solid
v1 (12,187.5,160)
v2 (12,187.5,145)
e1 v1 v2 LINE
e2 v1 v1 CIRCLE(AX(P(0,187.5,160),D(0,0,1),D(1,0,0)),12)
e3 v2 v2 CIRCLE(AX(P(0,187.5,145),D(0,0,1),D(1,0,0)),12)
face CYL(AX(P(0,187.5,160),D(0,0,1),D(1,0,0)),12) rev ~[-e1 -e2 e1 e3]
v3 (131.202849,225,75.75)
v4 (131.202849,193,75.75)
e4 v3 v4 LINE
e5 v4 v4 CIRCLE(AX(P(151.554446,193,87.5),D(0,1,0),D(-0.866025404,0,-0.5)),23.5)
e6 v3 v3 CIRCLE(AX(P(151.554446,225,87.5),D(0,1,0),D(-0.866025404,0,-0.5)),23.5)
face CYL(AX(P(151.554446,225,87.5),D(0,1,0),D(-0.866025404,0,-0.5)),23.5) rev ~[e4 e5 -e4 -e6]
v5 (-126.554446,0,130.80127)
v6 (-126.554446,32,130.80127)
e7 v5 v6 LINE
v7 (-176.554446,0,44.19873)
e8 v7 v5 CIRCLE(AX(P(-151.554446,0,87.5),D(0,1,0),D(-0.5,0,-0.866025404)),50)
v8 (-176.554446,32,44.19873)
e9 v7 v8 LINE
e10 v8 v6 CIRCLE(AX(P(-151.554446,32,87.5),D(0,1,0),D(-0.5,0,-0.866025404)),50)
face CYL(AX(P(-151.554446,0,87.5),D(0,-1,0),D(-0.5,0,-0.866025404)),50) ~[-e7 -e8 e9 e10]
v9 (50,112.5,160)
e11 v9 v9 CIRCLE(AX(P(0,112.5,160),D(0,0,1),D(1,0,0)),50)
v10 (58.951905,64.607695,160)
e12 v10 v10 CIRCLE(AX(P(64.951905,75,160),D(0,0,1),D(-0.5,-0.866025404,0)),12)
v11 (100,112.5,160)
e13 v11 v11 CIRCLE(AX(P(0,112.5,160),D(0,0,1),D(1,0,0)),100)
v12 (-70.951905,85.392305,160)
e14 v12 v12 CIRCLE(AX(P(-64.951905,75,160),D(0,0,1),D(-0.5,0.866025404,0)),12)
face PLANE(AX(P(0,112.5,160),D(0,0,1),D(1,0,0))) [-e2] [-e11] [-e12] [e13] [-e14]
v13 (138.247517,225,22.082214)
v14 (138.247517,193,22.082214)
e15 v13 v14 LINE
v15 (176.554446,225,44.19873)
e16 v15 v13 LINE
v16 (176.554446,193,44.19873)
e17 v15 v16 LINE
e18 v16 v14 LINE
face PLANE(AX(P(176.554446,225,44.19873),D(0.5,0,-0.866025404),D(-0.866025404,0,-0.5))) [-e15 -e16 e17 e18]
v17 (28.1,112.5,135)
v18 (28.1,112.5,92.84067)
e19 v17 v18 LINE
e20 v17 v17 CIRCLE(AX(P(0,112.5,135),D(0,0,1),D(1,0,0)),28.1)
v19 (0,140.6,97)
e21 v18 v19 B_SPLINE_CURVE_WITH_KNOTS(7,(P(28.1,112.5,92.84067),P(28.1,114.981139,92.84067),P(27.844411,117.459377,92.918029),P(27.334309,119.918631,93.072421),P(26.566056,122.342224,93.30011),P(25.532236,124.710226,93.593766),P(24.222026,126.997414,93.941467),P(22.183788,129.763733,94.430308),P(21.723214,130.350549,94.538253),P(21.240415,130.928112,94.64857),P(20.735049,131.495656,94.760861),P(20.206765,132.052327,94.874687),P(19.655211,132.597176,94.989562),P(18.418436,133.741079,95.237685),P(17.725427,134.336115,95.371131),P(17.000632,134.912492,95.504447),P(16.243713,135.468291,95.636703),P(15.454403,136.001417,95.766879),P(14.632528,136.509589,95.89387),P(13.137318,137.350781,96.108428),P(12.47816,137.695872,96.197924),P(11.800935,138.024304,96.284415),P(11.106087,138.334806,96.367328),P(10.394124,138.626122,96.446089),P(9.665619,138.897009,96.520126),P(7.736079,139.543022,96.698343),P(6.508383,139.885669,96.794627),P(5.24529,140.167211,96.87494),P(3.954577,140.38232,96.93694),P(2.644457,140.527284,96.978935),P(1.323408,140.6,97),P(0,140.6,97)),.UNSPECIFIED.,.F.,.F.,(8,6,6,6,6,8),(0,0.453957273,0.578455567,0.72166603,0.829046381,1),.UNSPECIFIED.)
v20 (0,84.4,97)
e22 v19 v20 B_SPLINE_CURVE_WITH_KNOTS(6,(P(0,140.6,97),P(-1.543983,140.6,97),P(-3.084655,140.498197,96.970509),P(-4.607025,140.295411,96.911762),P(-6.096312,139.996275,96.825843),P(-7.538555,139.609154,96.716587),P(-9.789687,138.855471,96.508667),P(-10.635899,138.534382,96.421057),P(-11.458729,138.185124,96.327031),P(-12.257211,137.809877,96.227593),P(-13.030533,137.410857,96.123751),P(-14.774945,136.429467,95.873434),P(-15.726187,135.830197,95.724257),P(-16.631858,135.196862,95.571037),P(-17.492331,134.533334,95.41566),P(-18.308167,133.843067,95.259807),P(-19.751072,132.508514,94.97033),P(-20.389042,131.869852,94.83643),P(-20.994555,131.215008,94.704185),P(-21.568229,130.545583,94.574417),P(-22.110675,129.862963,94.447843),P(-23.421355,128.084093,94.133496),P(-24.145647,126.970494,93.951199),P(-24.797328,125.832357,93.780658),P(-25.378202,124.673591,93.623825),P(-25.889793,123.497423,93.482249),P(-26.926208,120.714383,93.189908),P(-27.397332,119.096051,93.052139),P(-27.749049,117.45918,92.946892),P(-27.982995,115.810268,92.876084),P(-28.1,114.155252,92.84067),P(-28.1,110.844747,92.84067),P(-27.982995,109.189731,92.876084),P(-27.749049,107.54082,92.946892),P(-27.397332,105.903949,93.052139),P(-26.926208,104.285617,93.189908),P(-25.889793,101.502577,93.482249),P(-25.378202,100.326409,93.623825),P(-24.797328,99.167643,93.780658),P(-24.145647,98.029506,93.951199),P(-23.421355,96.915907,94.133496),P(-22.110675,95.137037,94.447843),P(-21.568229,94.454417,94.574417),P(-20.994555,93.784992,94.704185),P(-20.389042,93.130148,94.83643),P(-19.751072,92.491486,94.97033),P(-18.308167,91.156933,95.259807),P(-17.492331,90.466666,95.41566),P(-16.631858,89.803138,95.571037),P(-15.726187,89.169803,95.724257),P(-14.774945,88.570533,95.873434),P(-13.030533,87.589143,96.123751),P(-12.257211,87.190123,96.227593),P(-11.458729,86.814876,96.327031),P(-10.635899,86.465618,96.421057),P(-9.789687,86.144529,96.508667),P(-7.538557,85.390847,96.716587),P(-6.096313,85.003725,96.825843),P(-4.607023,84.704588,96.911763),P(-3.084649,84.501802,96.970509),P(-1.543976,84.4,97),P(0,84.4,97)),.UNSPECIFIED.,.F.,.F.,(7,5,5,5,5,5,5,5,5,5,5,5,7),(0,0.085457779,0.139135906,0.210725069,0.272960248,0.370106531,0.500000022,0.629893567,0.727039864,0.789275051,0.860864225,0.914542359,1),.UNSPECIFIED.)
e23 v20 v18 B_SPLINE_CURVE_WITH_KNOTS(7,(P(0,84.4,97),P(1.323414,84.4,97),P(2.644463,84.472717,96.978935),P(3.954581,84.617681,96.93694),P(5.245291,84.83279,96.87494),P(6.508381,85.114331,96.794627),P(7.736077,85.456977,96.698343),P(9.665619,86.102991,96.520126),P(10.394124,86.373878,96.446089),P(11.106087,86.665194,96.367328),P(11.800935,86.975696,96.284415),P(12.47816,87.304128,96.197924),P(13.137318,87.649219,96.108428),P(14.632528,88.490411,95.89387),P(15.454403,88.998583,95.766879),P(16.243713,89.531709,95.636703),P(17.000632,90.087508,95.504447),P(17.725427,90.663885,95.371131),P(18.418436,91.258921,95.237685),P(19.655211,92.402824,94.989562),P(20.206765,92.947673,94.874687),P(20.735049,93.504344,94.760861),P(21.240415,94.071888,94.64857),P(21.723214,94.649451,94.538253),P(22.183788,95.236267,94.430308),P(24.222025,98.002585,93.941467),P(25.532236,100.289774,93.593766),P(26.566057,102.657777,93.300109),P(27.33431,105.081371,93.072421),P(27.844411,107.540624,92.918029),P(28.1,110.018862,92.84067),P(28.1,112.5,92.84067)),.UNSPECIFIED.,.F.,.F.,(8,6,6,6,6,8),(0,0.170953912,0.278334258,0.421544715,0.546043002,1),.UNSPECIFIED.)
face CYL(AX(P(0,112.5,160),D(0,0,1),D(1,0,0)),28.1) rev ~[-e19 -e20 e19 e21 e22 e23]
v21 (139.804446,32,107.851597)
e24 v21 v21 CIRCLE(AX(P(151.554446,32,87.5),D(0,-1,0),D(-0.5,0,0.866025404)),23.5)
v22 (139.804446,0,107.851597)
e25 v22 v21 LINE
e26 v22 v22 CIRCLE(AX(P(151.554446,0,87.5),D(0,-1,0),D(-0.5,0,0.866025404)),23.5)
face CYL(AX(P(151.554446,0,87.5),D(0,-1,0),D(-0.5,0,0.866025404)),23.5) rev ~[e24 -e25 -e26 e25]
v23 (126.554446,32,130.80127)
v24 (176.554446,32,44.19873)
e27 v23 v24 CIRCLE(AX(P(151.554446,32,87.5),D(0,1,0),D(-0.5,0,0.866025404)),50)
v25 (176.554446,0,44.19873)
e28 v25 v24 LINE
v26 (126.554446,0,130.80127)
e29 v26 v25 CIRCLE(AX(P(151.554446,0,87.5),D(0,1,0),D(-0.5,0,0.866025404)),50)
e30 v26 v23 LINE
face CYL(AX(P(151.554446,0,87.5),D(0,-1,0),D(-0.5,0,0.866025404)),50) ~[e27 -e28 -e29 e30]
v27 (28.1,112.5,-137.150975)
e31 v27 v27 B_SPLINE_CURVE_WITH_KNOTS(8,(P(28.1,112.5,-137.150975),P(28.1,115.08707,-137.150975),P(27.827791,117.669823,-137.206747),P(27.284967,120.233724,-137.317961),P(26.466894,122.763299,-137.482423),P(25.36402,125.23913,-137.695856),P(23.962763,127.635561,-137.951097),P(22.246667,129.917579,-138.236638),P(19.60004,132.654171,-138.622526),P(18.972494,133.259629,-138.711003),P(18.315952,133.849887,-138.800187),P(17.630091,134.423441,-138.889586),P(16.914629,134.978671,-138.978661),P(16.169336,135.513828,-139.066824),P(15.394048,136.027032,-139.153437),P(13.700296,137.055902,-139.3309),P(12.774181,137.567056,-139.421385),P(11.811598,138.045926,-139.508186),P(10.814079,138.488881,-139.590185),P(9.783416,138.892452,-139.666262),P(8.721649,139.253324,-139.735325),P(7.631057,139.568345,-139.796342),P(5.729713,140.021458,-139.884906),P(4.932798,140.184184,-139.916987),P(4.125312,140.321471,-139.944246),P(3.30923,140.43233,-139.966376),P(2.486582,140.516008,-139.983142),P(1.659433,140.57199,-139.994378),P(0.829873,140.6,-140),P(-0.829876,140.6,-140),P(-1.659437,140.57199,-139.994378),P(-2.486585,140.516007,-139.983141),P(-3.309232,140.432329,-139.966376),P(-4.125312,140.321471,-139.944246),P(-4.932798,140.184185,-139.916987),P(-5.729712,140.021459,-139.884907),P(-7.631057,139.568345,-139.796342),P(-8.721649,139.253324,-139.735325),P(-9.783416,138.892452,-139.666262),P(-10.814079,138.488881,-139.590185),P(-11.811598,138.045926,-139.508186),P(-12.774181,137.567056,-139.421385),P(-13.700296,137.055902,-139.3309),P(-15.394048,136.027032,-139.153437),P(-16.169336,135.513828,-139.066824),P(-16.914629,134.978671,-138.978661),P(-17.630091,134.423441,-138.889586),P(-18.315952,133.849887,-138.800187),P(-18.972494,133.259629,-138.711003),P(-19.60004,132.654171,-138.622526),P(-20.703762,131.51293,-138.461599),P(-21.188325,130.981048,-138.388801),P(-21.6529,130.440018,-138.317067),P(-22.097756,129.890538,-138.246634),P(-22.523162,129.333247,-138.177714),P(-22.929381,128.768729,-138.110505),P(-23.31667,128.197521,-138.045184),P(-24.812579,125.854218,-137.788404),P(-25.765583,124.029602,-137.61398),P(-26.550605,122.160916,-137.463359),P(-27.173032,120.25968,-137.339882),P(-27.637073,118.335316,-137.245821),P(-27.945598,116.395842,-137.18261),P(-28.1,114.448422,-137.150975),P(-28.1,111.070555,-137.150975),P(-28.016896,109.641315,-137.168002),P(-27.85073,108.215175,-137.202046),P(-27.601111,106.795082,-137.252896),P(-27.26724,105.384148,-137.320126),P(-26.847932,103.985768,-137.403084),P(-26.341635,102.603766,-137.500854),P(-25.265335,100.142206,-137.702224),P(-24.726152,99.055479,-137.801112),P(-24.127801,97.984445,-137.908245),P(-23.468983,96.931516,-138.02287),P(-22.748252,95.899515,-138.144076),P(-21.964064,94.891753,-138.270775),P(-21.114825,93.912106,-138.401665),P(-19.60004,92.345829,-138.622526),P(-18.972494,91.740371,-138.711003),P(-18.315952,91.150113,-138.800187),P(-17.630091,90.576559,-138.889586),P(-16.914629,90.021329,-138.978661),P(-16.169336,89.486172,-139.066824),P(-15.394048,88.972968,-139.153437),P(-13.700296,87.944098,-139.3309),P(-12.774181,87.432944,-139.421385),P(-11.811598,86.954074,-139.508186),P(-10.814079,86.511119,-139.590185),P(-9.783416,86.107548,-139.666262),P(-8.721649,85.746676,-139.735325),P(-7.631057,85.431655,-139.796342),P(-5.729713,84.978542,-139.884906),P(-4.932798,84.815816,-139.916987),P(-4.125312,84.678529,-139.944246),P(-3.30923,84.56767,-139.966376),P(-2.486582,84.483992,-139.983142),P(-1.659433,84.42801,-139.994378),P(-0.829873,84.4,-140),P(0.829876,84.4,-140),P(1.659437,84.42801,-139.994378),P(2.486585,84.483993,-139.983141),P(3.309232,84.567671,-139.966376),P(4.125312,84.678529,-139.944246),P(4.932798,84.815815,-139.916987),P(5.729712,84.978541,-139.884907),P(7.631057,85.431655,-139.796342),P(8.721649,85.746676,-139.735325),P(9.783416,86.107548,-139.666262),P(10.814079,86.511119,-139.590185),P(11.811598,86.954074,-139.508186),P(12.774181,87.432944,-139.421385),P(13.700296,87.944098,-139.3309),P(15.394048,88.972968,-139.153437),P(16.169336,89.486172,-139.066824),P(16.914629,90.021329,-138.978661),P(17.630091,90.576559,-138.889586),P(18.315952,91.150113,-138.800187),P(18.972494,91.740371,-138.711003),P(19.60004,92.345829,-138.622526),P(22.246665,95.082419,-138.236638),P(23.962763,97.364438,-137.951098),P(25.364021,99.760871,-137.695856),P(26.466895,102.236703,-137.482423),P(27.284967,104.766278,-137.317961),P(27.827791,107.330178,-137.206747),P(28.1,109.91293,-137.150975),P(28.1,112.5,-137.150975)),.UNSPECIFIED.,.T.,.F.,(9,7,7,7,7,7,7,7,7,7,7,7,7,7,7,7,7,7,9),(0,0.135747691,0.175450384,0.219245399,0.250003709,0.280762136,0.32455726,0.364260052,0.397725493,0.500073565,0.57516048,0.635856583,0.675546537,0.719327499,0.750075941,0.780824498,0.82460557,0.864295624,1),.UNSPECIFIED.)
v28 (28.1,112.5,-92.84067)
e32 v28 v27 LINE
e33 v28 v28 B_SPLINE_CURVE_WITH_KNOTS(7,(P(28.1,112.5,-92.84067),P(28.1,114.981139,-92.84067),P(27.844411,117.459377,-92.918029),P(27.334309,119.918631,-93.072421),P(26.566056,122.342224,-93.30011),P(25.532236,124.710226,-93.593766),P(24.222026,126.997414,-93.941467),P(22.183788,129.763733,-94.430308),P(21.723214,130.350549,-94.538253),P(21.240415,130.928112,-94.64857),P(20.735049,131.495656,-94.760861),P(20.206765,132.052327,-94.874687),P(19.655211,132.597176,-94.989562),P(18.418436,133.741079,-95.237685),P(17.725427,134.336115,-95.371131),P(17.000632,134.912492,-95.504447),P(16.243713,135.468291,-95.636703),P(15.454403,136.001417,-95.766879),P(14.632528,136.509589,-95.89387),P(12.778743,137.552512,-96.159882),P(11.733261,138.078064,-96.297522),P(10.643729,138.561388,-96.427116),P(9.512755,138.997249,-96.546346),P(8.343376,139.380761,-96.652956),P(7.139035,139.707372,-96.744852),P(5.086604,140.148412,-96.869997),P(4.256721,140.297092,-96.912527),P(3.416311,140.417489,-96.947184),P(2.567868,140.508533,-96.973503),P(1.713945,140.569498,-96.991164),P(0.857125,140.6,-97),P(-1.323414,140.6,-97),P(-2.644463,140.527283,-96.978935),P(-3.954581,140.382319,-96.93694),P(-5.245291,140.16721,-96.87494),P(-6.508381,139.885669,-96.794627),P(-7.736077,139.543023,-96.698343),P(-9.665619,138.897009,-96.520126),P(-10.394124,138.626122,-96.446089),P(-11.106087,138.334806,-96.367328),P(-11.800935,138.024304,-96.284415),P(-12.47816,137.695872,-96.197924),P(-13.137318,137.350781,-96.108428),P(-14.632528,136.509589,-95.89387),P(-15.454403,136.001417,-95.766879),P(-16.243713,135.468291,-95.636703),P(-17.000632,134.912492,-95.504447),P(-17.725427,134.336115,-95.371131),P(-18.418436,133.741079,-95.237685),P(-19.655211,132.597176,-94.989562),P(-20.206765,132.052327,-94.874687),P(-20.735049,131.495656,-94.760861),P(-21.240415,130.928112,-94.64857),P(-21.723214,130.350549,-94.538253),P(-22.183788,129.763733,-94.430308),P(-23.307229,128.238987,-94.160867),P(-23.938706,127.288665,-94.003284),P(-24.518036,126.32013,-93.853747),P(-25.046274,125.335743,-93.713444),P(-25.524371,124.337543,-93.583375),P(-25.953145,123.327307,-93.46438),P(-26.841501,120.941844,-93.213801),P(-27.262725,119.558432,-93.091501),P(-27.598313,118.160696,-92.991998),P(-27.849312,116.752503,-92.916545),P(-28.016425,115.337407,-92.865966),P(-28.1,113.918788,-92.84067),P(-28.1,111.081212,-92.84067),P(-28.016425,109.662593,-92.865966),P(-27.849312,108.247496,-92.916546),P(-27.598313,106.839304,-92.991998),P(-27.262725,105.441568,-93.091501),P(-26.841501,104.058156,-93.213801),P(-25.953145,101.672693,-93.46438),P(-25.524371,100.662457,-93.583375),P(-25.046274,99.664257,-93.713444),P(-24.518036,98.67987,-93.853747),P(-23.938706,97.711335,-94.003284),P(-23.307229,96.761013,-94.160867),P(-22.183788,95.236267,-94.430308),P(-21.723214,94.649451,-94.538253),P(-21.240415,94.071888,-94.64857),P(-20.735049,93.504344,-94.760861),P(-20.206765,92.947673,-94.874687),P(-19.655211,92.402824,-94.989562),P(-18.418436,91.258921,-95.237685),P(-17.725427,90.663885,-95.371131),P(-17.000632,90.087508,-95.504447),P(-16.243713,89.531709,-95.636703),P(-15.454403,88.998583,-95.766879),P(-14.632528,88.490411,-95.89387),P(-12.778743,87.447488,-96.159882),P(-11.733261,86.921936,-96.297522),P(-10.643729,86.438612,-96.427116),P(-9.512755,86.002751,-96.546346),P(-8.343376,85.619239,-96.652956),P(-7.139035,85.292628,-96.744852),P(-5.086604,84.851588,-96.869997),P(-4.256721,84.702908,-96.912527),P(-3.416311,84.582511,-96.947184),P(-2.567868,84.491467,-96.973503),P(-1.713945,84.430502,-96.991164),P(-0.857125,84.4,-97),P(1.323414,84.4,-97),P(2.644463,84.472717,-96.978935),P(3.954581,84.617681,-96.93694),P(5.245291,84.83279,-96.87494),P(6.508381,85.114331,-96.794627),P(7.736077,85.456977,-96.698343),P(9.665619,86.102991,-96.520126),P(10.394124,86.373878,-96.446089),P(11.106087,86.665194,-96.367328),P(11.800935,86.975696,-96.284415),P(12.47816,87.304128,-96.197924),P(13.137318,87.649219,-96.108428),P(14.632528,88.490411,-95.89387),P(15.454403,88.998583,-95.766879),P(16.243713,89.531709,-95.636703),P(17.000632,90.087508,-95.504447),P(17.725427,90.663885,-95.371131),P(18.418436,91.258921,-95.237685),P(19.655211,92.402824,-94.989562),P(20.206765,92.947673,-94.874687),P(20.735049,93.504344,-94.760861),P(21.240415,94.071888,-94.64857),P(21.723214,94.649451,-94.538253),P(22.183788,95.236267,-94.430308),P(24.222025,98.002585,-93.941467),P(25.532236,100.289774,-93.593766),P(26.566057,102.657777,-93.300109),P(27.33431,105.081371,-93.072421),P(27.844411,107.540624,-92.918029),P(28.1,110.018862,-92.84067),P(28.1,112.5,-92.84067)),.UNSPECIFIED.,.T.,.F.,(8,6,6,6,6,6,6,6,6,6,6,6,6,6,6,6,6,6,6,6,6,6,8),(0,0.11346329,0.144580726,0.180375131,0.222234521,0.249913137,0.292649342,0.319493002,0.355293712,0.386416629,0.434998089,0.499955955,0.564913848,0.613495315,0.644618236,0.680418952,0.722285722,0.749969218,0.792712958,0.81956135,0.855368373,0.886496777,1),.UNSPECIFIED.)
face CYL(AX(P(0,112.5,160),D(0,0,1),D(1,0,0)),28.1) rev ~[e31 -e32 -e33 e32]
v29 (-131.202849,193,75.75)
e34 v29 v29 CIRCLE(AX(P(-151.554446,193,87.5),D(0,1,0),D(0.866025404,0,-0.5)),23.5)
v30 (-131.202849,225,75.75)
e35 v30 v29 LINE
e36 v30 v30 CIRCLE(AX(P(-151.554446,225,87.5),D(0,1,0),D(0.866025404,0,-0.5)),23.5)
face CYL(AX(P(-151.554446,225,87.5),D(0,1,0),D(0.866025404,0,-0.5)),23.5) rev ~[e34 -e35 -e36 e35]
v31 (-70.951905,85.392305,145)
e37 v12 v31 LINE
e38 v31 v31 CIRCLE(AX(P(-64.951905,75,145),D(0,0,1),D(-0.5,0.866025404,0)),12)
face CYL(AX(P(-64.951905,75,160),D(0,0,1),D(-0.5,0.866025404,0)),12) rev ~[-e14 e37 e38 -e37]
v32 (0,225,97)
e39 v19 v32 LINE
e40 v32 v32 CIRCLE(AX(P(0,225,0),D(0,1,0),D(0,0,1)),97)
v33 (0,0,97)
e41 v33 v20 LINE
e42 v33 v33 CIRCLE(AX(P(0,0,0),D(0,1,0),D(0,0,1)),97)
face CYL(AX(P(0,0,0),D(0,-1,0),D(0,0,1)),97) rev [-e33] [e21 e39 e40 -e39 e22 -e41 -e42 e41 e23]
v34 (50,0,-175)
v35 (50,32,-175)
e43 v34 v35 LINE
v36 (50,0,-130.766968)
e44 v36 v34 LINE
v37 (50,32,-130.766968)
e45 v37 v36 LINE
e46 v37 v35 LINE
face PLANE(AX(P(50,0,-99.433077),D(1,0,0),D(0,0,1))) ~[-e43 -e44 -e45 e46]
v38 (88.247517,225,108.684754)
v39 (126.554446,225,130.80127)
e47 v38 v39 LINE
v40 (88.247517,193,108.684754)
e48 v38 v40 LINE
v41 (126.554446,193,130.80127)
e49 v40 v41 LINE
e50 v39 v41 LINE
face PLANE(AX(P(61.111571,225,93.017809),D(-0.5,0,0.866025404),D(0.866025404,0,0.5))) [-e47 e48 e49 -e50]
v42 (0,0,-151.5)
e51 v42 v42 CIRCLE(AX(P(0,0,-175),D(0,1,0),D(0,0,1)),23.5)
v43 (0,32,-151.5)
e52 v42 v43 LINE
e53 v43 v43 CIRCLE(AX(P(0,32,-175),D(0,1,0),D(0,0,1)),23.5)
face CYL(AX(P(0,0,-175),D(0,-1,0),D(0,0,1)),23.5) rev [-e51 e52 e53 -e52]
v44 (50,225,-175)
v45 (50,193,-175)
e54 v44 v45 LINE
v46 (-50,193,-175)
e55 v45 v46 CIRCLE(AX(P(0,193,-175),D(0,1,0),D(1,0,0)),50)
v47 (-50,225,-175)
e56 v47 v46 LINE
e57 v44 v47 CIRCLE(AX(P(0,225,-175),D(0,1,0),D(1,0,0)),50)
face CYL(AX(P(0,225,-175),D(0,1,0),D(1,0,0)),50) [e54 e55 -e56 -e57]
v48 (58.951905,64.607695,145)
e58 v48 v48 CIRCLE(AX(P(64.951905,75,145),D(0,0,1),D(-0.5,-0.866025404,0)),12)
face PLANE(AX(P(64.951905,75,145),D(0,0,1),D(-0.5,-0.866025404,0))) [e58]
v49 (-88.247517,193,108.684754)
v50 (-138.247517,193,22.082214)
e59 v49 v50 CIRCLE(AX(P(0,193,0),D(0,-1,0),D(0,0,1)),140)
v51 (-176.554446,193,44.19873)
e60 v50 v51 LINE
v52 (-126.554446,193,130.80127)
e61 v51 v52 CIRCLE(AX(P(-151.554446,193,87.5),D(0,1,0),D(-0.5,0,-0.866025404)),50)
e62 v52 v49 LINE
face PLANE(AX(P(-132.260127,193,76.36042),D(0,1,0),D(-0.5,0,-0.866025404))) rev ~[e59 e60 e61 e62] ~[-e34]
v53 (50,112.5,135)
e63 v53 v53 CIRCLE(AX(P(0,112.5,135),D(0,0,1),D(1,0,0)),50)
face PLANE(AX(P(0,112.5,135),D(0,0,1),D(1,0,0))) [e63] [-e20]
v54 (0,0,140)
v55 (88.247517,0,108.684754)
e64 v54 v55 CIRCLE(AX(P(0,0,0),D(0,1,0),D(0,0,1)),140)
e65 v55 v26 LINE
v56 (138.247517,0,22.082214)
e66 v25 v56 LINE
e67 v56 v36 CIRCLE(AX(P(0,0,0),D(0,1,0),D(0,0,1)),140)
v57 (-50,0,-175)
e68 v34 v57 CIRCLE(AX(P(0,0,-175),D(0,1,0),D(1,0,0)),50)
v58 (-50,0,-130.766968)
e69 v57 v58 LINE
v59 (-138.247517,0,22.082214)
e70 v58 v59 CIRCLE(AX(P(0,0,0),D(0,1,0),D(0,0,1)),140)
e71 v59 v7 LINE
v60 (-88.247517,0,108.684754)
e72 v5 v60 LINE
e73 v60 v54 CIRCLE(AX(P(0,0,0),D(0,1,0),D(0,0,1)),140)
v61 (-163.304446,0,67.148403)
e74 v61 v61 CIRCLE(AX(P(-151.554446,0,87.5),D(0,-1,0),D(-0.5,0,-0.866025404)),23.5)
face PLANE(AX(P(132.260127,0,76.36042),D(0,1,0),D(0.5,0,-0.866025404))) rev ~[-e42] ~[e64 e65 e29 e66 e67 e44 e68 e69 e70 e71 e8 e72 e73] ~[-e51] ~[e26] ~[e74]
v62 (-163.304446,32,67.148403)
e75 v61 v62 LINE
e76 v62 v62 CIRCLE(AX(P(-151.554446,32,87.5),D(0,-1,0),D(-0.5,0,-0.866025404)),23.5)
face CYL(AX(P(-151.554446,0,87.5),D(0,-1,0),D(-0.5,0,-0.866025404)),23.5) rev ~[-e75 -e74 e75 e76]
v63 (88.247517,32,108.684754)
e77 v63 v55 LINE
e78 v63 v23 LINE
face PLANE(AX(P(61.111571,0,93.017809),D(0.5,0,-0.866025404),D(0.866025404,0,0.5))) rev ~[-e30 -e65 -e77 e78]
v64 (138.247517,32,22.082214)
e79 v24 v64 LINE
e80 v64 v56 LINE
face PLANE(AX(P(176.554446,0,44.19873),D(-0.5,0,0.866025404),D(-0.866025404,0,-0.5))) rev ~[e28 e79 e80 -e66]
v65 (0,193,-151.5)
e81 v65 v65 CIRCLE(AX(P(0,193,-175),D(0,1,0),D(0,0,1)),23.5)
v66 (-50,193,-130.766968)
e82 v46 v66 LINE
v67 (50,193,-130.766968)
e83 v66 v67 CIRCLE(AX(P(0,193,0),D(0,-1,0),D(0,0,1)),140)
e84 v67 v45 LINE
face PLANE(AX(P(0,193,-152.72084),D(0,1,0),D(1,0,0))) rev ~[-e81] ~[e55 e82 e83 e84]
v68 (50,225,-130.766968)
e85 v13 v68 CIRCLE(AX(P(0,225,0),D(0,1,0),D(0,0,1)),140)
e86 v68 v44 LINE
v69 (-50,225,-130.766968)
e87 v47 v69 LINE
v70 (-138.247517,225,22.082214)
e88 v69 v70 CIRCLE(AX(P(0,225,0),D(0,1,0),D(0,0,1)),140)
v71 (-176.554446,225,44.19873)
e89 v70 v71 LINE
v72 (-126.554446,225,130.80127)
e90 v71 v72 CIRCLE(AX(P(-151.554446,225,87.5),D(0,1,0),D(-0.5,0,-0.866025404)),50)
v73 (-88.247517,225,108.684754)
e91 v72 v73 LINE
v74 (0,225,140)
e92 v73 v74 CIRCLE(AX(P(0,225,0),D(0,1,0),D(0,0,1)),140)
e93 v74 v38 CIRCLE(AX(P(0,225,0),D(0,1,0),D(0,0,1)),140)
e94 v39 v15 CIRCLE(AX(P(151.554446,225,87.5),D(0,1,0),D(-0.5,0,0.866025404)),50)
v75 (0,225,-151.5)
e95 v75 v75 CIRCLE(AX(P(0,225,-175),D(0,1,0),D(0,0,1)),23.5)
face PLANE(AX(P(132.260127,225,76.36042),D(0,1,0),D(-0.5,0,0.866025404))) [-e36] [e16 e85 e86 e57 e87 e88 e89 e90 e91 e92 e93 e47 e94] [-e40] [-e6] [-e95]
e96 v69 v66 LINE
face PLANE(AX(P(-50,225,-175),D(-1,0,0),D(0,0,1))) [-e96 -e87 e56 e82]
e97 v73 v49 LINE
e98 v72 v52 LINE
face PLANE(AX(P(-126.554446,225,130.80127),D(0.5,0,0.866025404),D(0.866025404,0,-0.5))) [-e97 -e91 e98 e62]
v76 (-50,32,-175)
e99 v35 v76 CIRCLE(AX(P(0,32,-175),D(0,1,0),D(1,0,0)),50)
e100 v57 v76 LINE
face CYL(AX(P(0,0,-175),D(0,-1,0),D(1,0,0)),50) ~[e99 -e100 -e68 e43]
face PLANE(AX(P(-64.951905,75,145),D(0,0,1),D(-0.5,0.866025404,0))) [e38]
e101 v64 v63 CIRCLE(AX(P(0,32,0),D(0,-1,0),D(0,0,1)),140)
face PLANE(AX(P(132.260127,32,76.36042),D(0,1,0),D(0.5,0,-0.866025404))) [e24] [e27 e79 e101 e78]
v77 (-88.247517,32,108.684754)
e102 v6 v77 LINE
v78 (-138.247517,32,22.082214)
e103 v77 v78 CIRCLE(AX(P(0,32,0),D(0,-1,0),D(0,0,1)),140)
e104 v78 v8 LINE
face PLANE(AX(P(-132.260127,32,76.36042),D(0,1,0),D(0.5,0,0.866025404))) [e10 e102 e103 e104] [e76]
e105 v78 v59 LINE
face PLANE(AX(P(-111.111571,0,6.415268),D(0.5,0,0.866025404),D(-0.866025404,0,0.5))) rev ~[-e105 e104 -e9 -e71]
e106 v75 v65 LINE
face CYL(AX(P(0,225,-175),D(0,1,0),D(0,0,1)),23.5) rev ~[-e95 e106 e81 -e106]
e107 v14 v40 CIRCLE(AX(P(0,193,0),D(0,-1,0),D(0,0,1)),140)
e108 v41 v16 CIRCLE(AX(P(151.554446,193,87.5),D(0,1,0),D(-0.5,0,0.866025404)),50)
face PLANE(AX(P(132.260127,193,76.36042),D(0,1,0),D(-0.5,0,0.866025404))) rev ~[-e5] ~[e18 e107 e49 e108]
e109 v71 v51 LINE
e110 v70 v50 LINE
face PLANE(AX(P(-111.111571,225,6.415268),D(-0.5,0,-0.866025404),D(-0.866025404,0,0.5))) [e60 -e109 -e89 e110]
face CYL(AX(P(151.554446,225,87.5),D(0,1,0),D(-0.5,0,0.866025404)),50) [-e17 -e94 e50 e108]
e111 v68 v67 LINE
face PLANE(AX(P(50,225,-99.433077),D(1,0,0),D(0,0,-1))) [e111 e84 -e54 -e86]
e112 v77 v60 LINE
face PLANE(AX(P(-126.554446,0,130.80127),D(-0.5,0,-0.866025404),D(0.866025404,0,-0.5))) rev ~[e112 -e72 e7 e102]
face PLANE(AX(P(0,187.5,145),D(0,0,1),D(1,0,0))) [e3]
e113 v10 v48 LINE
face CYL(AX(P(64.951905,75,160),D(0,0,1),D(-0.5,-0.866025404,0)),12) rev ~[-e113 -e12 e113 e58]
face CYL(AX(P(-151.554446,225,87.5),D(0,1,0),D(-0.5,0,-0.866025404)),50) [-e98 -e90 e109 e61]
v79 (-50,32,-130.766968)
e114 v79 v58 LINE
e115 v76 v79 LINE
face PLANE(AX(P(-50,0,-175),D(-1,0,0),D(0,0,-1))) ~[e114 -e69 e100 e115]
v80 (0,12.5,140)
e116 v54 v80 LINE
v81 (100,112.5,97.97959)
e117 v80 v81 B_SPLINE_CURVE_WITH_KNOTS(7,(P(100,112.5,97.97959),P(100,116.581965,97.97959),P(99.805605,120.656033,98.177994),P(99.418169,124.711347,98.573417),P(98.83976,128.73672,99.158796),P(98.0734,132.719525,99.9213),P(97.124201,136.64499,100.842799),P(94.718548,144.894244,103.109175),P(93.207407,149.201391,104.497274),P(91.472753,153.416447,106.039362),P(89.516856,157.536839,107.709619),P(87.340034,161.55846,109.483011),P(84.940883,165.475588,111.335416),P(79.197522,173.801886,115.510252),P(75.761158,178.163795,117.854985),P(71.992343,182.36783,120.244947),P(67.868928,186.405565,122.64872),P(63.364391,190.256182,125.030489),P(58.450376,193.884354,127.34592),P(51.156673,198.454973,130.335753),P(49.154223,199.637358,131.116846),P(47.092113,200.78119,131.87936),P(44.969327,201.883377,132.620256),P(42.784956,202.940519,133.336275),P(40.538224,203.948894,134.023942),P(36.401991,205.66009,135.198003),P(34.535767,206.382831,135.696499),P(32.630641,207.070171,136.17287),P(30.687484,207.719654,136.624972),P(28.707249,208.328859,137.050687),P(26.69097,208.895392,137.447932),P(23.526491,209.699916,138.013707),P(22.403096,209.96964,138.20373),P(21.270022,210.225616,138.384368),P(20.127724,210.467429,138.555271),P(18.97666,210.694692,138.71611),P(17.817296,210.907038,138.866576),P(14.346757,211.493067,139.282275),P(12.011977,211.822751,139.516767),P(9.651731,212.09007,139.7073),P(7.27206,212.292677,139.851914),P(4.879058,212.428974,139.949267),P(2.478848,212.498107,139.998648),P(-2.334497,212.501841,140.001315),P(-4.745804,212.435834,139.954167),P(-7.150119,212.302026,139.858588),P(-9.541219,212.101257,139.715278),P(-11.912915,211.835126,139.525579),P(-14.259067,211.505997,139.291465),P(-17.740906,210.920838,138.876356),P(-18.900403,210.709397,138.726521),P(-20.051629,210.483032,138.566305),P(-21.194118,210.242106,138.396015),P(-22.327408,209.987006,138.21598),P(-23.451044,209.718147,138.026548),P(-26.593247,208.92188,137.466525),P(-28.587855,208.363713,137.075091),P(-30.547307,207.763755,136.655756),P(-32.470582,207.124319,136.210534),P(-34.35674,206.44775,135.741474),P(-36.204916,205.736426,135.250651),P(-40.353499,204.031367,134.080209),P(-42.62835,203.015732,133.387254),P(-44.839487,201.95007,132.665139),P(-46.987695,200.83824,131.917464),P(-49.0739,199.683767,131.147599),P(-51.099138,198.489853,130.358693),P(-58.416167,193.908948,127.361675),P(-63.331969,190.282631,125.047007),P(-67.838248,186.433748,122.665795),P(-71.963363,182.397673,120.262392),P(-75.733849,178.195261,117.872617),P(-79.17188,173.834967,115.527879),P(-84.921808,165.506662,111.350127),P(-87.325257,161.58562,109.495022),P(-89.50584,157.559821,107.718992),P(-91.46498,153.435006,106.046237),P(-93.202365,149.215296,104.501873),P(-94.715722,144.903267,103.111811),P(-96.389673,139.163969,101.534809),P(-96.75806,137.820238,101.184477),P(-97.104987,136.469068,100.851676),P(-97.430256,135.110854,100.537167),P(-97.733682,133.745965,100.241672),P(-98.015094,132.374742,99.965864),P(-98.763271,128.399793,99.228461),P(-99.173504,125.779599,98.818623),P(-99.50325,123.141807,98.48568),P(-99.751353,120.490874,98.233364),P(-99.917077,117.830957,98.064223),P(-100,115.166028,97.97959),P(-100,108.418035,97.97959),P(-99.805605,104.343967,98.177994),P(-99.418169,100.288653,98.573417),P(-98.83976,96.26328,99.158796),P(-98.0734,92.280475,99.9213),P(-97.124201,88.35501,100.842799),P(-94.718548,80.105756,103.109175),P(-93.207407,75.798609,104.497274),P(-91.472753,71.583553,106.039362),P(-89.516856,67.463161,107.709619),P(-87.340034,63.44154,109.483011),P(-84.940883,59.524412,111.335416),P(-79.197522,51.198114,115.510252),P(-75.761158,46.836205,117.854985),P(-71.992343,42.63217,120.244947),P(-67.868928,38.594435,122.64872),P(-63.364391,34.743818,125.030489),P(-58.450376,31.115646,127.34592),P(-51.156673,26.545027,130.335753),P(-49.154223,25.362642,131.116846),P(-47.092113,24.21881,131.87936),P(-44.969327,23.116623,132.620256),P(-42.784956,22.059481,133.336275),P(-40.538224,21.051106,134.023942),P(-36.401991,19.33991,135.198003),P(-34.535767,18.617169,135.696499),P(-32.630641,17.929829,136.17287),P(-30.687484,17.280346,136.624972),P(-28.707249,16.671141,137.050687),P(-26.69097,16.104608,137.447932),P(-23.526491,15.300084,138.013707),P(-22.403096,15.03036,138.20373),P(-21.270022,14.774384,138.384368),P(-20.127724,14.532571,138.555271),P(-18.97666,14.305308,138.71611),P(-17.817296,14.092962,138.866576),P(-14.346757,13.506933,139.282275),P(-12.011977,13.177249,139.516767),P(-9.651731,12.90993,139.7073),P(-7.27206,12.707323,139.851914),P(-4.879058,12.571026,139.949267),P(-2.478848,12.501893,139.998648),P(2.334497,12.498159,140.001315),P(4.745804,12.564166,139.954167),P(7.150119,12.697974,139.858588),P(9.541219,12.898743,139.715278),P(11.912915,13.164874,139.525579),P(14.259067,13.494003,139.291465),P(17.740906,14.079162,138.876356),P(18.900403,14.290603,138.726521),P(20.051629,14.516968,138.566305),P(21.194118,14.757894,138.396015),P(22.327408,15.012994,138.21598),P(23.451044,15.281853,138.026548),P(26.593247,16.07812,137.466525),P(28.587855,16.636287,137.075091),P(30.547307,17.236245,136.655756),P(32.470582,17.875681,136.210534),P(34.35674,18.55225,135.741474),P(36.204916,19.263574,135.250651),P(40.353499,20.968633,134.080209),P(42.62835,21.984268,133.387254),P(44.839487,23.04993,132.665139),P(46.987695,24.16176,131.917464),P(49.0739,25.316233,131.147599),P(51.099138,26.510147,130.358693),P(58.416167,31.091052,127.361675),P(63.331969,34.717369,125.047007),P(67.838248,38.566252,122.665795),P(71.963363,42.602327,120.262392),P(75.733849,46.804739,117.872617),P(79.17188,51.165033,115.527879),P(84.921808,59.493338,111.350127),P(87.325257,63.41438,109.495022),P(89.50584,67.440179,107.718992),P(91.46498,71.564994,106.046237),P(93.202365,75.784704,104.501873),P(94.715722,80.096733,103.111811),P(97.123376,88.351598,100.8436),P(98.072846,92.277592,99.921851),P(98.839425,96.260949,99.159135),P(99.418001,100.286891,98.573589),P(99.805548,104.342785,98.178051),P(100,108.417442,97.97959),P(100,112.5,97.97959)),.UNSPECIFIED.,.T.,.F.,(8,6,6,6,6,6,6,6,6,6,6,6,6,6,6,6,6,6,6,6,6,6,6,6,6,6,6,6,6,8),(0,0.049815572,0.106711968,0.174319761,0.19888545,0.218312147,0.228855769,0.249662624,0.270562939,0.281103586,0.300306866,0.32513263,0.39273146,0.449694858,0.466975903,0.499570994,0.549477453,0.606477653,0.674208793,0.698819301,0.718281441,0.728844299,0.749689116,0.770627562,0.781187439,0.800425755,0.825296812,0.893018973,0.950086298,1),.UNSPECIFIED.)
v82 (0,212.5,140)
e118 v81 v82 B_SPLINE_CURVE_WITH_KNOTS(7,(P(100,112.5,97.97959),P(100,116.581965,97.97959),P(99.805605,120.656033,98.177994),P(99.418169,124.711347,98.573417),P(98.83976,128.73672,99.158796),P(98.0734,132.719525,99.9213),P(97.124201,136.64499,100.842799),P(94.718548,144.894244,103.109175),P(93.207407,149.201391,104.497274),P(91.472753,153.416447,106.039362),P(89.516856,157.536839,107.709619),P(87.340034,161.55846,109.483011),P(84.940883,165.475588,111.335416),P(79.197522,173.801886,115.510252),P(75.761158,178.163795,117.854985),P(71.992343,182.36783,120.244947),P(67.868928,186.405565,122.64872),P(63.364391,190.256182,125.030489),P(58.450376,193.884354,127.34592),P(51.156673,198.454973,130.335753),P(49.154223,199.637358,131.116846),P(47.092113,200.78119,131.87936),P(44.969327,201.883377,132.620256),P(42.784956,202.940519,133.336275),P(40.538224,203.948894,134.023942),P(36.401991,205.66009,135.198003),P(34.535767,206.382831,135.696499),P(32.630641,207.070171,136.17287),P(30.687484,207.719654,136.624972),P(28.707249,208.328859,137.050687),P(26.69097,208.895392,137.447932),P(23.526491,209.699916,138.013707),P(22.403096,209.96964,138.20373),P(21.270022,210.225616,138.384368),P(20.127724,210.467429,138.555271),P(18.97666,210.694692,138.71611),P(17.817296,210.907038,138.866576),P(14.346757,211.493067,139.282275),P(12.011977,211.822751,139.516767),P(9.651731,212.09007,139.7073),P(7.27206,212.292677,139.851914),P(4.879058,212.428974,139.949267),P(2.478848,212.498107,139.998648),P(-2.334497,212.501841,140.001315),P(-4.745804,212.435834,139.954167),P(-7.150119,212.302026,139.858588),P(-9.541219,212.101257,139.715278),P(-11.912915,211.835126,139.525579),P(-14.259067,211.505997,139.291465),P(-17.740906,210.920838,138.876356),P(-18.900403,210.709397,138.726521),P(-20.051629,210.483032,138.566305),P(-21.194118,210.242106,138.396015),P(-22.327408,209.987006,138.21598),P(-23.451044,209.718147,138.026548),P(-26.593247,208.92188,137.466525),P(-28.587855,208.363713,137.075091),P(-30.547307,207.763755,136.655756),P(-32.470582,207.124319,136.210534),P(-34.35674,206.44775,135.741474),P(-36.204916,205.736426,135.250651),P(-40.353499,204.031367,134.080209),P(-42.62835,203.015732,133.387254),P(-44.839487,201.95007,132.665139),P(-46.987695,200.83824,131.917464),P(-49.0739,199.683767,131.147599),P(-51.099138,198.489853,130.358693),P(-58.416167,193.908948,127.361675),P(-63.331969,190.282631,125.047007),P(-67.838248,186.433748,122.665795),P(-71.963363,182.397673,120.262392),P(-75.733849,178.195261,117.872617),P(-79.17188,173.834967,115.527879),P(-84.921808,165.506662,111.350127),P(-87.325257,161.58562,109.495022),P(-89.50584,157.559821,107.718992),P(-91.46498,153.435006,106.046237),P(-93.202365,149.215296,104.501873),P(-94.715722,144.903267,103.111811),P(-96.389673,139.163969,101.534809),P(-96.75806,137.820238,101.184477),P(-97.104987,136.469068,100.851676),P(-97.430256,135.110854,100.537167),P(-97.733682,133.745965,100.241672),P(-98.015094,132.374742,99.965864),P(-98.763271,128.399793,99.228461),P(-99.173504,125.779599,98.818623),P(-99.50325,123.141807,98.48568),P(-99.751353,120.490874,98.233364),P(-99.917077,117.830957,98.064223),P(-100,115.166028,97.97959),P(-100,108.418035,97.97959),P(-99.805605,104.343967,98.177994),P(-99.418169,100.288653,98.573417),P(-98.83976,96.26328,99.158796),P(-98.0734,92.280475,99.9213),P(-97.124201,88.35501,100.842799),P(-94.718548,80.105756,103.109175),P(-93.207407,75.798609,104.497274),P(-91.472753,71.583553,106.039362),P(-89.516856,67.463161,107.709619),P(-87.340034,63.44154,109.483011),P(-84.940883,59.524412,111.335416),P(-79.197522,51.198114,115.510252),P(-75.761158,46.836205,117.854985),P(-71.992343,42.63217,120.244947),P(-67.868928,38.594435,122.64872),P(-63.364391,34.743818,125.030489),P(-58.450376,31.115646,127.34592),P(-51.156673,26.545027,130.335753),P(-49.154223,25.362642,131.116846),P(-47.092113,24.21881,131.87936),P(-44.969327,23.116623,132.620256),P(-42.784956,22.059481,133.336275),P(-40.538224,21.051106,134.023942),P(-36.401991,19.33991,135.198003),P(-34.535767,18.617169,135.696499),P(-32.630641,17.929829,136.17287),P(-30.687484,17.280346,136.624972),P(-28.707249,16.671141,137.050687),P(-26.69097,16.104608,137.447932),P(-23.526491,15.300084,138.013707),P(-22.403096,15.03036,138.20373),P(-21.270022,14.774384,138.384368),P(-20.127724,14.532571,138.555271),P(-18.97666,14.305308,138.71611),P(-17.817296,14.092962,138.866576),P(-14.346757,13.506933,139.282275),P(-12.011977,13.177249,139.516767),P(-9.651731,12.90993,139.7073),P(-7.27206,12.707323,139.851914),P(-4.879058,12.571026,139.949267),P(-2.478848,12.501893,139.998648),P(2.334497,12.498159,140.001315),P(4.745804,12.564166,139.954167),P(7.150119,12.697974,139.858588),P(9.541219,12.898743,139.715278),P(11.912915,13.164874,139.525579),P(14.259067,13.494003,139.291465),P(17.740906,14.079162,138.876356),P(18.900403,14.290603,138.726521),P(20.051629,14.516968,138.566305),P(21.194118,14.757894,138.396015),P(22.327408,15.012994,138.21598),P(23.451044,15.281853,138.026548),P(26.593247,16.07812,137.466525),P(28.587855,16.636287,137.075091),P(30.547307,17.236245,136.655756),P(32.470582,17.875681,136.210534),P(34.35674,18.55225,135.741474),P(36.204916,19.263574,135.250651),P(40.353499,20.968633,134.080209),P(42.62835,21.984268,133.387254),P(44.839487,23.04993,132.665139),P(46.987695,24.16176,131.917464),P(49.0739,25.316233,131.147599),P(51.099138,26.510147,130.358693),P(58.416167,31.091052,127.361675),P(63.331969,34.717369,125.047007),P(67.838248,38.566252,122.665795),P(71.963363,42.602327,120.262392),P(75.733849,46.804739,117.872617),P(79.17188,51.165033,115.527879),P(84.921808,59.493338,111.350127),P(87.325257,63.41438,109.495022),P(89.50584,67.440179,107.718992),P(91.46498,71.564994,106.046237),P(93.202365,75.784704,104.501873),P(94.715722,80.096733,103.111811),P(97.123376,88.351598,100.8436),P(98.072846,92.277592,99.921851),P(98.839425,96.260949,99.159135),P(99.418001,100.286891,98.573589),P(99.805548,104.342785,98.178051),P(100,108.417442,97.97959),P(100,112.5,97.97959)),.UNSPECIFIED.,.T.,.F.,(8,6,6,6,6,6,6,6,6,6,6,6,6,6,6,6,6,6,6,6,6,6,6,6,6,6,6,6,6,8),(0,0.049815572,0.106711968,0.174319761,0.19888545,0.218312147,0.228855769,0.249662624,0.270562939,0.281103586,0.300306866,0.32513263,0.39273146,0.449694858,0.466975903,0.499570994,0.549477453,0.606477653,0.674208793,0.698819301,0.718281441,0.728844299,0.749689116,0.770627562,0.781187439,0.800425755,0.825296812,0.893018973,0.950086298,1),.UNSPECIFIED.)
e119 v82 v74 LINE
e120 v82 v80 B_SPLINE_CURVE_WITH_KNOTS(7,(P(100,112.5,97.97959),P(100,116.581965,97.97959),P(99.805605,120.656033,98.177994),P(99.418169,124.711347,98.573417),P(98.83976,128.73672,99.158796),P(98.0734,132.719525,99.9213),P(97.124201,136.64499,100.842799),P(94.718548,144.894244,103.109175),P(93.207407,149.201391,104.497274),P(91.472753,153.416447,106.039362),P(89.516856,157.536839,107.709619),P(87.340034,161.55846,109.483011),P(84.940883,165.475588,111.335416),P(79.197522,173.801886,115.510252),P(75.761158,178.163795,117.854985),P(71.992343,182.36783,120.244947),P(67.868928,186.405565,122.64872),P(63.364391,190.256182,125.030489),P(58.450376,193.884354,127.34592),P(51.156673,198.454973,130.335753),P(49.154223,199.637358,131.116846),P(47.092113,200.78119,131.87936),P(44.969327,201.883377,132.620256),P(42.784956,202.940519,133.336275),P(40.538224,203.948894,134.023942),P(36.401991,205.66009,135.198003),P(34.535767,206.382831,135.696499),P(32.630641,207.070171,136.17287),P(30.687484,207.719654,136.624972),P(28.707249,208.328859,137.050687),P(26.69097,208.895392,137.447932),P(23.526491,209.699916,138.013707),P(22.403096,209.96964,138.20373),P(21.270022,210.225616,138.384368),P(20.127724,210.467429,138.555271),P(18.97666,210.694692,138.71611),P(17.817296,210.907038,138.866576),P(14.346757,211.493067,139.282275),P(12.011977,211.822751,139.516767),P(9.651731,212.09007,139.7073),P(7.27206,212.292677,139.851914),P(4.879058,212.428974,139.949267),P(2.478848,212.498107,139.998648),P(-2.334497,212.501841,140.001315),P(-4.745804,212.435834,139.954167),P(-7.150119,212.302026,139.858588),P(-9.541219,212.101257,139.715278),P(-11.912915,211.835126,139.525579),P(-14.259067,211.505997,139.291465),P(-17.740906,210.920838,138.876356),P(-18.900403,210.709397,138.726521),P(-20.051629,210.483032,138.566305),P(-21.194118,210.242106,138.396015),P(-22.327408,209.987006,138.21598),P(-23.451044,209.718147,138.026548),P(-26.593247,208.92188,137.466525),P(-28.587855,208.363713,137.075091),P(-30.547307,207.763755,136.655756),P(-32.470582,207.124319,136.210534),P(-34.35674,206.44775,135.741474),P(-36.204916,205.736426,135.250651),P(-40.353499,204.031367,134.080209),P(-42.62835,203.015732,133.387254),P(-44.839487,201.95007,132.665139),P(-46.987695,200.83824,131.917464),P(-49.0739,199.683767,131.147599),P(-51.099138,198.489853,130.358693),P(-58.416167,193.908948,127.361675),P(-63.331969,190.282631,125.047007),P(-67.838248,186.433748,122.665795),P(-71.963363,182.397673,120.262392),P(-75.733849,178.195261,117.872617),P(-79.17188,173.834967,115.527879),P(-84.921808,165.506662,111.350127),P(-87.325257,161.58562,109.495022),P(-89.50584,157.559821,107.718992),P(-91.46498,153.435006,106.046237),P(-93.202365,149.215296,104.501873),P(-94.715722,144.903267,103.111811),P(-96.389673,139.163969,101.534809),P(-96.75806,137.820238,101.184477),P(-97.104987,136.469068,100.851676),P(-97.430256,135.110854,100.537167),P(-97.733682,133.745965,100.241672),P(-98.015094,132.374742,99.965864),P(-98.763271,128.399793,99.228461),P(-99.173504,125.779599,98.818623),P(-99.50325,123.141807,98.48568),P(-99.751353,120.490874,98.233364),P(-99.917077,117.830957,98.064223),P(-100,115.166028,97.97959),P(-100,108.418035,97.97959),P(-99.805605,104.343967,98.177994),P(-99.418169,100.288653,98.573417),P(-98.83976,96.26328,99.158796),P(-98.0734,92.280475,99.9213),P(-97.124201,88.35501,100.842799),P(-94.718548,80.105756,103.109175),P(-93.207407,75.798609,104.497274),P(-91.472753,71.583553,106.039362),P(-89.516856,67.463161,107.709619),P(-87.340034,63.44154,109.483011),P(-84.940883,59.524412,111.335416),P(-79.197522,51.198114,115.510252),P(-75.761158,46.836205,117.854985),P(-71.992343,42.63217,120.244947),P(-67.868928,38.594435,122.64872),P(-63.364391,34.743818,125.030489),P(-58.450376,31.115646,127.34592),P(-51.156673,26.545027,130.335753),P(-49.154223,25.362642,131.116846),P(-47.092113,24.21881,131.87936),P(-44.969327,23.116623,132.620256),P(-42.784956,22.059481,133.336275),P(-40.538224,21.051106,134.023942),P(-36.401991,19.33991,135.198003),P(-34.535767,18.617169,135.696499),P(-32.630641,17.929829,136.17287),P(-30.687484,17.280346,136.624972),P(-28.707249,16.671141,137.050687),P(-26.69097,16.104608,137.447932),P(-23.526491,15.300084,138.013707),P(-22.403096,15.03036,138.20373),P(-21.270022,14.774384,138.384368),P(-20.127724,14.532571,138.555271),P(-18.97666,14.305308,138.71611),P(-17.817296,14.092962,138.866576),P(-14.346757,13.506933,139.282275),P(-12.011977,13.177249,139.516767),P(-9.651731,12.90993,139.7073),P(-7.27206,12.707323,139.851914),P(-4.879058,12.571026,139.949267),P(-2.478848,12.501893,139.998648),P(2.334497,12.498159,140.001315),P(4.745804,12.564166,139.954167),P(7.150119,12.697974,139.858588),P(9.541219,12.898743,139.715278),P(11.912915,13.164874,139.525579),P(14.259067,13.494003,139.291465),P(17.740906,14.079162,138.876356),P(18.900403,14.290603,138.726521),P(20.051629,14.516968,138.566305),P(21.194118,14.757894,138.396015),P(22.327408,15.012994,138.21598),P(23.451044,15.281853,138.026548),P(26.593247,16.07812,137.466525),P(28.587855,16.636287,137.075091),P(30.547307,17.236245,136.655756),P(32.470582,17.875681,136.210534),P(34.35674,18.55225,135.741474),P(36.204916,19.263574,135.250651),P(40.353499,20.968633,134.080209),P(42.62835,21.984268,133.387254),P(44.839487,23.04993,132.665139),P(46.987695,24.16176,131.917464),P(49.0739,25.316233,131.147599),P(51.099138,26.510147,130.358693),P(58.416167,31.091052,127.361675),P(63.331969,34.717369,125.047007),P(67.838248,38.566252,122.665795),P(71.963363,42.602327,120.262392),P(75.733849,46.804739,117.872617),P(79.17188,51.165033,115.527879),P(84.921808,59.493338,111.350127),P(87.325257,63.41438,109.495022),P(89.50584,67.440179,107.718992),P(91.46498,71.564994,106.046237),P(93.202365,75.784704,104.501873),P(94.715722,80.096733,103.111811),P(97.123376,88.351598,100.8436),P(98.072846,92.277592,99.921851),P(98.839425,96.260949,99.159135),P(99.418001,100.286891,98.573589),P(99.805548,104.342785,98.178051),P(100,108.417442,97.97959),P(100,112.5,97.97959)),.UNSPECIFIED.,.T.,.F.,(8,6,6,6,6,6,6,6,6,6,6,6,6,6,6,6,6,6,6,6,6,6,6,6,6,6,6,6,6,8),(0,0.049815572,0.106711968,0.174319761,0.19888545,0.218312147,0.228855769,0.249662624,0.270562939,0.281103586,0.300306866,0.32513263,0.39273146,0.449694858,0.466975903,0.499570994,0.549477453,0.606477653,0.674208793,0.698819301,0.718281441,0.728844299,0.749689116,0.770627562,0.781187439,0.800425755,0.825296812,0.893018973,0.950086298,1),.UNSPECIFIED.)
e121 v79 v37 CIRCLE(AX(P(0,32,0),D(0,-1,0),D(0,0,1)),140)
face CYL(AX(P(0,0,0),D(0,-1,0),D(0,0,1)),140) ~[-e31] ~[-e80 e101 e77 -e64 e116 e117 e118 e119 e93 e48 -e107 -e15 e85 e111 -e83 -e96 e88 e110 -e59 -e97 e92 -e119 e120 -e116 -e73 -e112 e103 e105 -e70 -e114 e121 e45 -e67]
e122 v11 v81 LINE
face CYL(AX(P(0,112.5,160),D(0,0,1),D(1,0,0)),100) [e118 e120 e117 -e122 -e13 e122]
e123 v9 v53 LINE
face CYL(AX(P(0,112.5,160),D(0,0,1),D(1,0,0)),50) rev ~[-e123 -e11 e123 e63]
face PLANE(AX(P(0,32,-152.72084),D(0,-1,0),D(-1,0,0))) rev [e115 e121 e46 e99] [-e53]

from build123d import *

# Parameters (mm, degrees)
SKETCH1_R                = 140
SKETCH1_R_2              = 97
BOSS_EXTRUDE1_DEPTH      = 225
SKETCH2_R                = 23.5
BOSS_EXTRUDE7_DEPTH      = 32
CIRPATTERN1_COUNT        = 3
MIRROR1_COPY_1_SKETCH_R  = 23.5
MIRROR1_COPY_1_DEPTH     = 32
MIRROR1_COPY_2_SKETCH_R  = 23.5
MIRROR1_COPY_2_DEPTH     = 32
BOSS_EXTRUDE8_REACH      = 491.361
BOSS_EXTRUDE8_END_RADIUS = 140
SKETCH3_R                = 100
SKETCH4_R                = 50
CUT_EXTRUDE1_DEPTH       = 25
SKETCH5_R                = 28.1
CUT_EXTRUDE2_DEPTH       = 490.361006427
SKETCH6_R                = 12
CUT_EXTRUDE3_DEPTH       = 15
CIRPATTERN2_COUNT        = 3


with BuildPart() as part:
    # Sketch1 → Boss-Extrude1 (new body)
    with BuildSketch(Plane(origin=(0, 0, 0), x_dir=(1, 0, 0), z_dir=(0, 1, 0))):
        with Locations(Location((0, 0, 0), (0, 0, 270))):
            Circle(SKETCH1_R)
        with Locations(Location((0, 0, 0), (0, 0, 270))):
            Circle(SKETCH1_R_2, mode=Mode.SUBTRACT)
    extrude(amount=BOSS_EXTRUDE1_DEPTH)

    # Sketch2 → Boss-Extrude7 (add)
    with BuildSketch(Plane(origin=(0, 225, 0), x_dir=(1, 0, 0), z_dir=(0, 1, 0))):
        with BuildLine():
            Line((-50, 175), (-50, 99.433076852))
            Line((-50, 99.433076852), (50, 99.433076852))
            Line((50, 99.433076852), (50, 175))
            ThreePointArc((50, 175), (0, 225), (-50, 175))
        make_face()
        with Locations(Location((0, 175, 0), (0, 0, 270))):
            Circle(SKETCH2_R, mode=Mode.SUBTRACT)
    boss_extrude7 = extrude(amount=-BOSS_EXTRUDE7_DEPTH)

    # CirPattern1: Boss-Extrude7 ×3 about axis
    cirpattern1_axis = Axis((0, 0, 0), (0, 1, 0))
    for i in range(1, CIRPATTERN1_COUNT):
        add(boss_extrude7.rotate(cirpattern1_axis, i * 360 / CIRPATTERN1_COUNT))

    # Mirror1: Boss-Extrude7 across plane
    add(boss_extrude7.mirror(Plane.ZX.offset(112.5)))

    # Mirror1 copy 1 sketch → Mirror1 copy 1 (add)
    with BuildSketch(Plane(origin=(0, 0, 0), x_dir=(-0.4999999999999998, 0, -0.8660254037844387), z_dir=(0, -1, 0))):
        with BuildLine():
            Line((-50, -175), (-50, -99.433076852))
            Line((-50, -99.433076852), (50, -99.433076852))
            Line((50, -99.433076852), (50, -175))
            ThreePointArc((50, -175), (0, -225), (-50, -175))
        make_face()
        with Locations((0, -175)):
            Circle(MIRROR1_COPY_1_SKETCH_R, mode=Mode.SUBTRACT)
    extrude(amount=-MIRROR1_COPY_1_DEPTH)

    # Mirror1 copy 2 sketch → Mirror1 copy 2 (add)
    with BuildSketch(Plane(origin=(0, 0, 0), x_dir=(-0.5000000000000004, 0, 0.8660254037844384), z_dir=(0, -1, 0))):
        with BuildLine():
            Line((-50, -175), (-50, -99.433076852))
            Line((-50, -99.433076852), (50, -99.433076852))
            Line((50, -99.433076852), (50, -175))
            ThreePointArc((50, -175), (0, -225), (-50, -175))
        make_face()
        with Locations((0, -175)):
            Circle(MIRROR1_COPY_2_SKETCH_R, mode=Mode.SUBTRACT)
    extrude(amount=-MIRROR1_COPY_2_DEPTH)

    # Boss-Extrude8: up to this cylinder (the profile starts outside it)
    boss_extrude8_end = Plane(origin=(0, 112.5, 0), z_dir=(0, -1, 0)) * Cylinder(BOSS_EXTRUDE8_END_RADIUS, 1263.722, mode=Mode.PRIVATE)
    # Sketch3 → Boss-Extrude8 (add, up to the surface)
    with BuildSketch(Plane.XY.offset(160), mode=Mode.PRIVATE) as boss_extrude8_sk1:
        with Locations((0, 112.5)):
            Circle(SKETCH3_R)
    boss_extrude8_tool1 = extrude(boss_extrude8_sk1.sketch, amount=-BOSS_EXTRUDE8_REACH, mode=Mode.PRIVATE) - boss_extrude8_end
    add(boss_extrude8_tool1.solids().sort_by_distance((0, 112.5, 160))[0])

    # Sketch4 → Cut-Extrude1 (cut)
    with BuildSketch(Plane.XY.offset(160)):
        with Locations((0, 112.5)):
            Circle(SKETCH4_R)
    extrude(amount=-CUT_EXTRUDE1_DEPTH, mode=Mode.SUBTRACT)

    # Sketch5 → Cut-Extrude2 (cut, through all)
    with BuildSketch(Plane.XY.offset(160)):
        with Locations((0, 112.5)):
            Circle(SKETCH5_R)
    extrude(amount=-CUT_EXTRUDE2_DEPTH, mode=Mode.SUBTRACT)

    # Sketch6 → Cut-Extrude3 (cut)
    with BuildSketch(Plane.XY.offset(160)):
        with Locations((0, 187.5)):
            Circle(SKETCH6_R)
    cut_extrude3 = extrude(amount=-CUT_EXTRUDE3_DEPTH, mode=Mode.SUBTRACT)

    # CirPattern2: Cut-Extrude3 ×3 about axis
    cirpattern2_axis = Axis((0, 112.5, 0), (0, 0, 1))
    for i in range(1, CIRPATTERN2_COUNT):
        add(cut_extrude3.rotate(cirpattern2_axis, i * 360 / CIRPATTERN2_COUNT), mode=Mode.SUBTRACT)


solid = part.part
